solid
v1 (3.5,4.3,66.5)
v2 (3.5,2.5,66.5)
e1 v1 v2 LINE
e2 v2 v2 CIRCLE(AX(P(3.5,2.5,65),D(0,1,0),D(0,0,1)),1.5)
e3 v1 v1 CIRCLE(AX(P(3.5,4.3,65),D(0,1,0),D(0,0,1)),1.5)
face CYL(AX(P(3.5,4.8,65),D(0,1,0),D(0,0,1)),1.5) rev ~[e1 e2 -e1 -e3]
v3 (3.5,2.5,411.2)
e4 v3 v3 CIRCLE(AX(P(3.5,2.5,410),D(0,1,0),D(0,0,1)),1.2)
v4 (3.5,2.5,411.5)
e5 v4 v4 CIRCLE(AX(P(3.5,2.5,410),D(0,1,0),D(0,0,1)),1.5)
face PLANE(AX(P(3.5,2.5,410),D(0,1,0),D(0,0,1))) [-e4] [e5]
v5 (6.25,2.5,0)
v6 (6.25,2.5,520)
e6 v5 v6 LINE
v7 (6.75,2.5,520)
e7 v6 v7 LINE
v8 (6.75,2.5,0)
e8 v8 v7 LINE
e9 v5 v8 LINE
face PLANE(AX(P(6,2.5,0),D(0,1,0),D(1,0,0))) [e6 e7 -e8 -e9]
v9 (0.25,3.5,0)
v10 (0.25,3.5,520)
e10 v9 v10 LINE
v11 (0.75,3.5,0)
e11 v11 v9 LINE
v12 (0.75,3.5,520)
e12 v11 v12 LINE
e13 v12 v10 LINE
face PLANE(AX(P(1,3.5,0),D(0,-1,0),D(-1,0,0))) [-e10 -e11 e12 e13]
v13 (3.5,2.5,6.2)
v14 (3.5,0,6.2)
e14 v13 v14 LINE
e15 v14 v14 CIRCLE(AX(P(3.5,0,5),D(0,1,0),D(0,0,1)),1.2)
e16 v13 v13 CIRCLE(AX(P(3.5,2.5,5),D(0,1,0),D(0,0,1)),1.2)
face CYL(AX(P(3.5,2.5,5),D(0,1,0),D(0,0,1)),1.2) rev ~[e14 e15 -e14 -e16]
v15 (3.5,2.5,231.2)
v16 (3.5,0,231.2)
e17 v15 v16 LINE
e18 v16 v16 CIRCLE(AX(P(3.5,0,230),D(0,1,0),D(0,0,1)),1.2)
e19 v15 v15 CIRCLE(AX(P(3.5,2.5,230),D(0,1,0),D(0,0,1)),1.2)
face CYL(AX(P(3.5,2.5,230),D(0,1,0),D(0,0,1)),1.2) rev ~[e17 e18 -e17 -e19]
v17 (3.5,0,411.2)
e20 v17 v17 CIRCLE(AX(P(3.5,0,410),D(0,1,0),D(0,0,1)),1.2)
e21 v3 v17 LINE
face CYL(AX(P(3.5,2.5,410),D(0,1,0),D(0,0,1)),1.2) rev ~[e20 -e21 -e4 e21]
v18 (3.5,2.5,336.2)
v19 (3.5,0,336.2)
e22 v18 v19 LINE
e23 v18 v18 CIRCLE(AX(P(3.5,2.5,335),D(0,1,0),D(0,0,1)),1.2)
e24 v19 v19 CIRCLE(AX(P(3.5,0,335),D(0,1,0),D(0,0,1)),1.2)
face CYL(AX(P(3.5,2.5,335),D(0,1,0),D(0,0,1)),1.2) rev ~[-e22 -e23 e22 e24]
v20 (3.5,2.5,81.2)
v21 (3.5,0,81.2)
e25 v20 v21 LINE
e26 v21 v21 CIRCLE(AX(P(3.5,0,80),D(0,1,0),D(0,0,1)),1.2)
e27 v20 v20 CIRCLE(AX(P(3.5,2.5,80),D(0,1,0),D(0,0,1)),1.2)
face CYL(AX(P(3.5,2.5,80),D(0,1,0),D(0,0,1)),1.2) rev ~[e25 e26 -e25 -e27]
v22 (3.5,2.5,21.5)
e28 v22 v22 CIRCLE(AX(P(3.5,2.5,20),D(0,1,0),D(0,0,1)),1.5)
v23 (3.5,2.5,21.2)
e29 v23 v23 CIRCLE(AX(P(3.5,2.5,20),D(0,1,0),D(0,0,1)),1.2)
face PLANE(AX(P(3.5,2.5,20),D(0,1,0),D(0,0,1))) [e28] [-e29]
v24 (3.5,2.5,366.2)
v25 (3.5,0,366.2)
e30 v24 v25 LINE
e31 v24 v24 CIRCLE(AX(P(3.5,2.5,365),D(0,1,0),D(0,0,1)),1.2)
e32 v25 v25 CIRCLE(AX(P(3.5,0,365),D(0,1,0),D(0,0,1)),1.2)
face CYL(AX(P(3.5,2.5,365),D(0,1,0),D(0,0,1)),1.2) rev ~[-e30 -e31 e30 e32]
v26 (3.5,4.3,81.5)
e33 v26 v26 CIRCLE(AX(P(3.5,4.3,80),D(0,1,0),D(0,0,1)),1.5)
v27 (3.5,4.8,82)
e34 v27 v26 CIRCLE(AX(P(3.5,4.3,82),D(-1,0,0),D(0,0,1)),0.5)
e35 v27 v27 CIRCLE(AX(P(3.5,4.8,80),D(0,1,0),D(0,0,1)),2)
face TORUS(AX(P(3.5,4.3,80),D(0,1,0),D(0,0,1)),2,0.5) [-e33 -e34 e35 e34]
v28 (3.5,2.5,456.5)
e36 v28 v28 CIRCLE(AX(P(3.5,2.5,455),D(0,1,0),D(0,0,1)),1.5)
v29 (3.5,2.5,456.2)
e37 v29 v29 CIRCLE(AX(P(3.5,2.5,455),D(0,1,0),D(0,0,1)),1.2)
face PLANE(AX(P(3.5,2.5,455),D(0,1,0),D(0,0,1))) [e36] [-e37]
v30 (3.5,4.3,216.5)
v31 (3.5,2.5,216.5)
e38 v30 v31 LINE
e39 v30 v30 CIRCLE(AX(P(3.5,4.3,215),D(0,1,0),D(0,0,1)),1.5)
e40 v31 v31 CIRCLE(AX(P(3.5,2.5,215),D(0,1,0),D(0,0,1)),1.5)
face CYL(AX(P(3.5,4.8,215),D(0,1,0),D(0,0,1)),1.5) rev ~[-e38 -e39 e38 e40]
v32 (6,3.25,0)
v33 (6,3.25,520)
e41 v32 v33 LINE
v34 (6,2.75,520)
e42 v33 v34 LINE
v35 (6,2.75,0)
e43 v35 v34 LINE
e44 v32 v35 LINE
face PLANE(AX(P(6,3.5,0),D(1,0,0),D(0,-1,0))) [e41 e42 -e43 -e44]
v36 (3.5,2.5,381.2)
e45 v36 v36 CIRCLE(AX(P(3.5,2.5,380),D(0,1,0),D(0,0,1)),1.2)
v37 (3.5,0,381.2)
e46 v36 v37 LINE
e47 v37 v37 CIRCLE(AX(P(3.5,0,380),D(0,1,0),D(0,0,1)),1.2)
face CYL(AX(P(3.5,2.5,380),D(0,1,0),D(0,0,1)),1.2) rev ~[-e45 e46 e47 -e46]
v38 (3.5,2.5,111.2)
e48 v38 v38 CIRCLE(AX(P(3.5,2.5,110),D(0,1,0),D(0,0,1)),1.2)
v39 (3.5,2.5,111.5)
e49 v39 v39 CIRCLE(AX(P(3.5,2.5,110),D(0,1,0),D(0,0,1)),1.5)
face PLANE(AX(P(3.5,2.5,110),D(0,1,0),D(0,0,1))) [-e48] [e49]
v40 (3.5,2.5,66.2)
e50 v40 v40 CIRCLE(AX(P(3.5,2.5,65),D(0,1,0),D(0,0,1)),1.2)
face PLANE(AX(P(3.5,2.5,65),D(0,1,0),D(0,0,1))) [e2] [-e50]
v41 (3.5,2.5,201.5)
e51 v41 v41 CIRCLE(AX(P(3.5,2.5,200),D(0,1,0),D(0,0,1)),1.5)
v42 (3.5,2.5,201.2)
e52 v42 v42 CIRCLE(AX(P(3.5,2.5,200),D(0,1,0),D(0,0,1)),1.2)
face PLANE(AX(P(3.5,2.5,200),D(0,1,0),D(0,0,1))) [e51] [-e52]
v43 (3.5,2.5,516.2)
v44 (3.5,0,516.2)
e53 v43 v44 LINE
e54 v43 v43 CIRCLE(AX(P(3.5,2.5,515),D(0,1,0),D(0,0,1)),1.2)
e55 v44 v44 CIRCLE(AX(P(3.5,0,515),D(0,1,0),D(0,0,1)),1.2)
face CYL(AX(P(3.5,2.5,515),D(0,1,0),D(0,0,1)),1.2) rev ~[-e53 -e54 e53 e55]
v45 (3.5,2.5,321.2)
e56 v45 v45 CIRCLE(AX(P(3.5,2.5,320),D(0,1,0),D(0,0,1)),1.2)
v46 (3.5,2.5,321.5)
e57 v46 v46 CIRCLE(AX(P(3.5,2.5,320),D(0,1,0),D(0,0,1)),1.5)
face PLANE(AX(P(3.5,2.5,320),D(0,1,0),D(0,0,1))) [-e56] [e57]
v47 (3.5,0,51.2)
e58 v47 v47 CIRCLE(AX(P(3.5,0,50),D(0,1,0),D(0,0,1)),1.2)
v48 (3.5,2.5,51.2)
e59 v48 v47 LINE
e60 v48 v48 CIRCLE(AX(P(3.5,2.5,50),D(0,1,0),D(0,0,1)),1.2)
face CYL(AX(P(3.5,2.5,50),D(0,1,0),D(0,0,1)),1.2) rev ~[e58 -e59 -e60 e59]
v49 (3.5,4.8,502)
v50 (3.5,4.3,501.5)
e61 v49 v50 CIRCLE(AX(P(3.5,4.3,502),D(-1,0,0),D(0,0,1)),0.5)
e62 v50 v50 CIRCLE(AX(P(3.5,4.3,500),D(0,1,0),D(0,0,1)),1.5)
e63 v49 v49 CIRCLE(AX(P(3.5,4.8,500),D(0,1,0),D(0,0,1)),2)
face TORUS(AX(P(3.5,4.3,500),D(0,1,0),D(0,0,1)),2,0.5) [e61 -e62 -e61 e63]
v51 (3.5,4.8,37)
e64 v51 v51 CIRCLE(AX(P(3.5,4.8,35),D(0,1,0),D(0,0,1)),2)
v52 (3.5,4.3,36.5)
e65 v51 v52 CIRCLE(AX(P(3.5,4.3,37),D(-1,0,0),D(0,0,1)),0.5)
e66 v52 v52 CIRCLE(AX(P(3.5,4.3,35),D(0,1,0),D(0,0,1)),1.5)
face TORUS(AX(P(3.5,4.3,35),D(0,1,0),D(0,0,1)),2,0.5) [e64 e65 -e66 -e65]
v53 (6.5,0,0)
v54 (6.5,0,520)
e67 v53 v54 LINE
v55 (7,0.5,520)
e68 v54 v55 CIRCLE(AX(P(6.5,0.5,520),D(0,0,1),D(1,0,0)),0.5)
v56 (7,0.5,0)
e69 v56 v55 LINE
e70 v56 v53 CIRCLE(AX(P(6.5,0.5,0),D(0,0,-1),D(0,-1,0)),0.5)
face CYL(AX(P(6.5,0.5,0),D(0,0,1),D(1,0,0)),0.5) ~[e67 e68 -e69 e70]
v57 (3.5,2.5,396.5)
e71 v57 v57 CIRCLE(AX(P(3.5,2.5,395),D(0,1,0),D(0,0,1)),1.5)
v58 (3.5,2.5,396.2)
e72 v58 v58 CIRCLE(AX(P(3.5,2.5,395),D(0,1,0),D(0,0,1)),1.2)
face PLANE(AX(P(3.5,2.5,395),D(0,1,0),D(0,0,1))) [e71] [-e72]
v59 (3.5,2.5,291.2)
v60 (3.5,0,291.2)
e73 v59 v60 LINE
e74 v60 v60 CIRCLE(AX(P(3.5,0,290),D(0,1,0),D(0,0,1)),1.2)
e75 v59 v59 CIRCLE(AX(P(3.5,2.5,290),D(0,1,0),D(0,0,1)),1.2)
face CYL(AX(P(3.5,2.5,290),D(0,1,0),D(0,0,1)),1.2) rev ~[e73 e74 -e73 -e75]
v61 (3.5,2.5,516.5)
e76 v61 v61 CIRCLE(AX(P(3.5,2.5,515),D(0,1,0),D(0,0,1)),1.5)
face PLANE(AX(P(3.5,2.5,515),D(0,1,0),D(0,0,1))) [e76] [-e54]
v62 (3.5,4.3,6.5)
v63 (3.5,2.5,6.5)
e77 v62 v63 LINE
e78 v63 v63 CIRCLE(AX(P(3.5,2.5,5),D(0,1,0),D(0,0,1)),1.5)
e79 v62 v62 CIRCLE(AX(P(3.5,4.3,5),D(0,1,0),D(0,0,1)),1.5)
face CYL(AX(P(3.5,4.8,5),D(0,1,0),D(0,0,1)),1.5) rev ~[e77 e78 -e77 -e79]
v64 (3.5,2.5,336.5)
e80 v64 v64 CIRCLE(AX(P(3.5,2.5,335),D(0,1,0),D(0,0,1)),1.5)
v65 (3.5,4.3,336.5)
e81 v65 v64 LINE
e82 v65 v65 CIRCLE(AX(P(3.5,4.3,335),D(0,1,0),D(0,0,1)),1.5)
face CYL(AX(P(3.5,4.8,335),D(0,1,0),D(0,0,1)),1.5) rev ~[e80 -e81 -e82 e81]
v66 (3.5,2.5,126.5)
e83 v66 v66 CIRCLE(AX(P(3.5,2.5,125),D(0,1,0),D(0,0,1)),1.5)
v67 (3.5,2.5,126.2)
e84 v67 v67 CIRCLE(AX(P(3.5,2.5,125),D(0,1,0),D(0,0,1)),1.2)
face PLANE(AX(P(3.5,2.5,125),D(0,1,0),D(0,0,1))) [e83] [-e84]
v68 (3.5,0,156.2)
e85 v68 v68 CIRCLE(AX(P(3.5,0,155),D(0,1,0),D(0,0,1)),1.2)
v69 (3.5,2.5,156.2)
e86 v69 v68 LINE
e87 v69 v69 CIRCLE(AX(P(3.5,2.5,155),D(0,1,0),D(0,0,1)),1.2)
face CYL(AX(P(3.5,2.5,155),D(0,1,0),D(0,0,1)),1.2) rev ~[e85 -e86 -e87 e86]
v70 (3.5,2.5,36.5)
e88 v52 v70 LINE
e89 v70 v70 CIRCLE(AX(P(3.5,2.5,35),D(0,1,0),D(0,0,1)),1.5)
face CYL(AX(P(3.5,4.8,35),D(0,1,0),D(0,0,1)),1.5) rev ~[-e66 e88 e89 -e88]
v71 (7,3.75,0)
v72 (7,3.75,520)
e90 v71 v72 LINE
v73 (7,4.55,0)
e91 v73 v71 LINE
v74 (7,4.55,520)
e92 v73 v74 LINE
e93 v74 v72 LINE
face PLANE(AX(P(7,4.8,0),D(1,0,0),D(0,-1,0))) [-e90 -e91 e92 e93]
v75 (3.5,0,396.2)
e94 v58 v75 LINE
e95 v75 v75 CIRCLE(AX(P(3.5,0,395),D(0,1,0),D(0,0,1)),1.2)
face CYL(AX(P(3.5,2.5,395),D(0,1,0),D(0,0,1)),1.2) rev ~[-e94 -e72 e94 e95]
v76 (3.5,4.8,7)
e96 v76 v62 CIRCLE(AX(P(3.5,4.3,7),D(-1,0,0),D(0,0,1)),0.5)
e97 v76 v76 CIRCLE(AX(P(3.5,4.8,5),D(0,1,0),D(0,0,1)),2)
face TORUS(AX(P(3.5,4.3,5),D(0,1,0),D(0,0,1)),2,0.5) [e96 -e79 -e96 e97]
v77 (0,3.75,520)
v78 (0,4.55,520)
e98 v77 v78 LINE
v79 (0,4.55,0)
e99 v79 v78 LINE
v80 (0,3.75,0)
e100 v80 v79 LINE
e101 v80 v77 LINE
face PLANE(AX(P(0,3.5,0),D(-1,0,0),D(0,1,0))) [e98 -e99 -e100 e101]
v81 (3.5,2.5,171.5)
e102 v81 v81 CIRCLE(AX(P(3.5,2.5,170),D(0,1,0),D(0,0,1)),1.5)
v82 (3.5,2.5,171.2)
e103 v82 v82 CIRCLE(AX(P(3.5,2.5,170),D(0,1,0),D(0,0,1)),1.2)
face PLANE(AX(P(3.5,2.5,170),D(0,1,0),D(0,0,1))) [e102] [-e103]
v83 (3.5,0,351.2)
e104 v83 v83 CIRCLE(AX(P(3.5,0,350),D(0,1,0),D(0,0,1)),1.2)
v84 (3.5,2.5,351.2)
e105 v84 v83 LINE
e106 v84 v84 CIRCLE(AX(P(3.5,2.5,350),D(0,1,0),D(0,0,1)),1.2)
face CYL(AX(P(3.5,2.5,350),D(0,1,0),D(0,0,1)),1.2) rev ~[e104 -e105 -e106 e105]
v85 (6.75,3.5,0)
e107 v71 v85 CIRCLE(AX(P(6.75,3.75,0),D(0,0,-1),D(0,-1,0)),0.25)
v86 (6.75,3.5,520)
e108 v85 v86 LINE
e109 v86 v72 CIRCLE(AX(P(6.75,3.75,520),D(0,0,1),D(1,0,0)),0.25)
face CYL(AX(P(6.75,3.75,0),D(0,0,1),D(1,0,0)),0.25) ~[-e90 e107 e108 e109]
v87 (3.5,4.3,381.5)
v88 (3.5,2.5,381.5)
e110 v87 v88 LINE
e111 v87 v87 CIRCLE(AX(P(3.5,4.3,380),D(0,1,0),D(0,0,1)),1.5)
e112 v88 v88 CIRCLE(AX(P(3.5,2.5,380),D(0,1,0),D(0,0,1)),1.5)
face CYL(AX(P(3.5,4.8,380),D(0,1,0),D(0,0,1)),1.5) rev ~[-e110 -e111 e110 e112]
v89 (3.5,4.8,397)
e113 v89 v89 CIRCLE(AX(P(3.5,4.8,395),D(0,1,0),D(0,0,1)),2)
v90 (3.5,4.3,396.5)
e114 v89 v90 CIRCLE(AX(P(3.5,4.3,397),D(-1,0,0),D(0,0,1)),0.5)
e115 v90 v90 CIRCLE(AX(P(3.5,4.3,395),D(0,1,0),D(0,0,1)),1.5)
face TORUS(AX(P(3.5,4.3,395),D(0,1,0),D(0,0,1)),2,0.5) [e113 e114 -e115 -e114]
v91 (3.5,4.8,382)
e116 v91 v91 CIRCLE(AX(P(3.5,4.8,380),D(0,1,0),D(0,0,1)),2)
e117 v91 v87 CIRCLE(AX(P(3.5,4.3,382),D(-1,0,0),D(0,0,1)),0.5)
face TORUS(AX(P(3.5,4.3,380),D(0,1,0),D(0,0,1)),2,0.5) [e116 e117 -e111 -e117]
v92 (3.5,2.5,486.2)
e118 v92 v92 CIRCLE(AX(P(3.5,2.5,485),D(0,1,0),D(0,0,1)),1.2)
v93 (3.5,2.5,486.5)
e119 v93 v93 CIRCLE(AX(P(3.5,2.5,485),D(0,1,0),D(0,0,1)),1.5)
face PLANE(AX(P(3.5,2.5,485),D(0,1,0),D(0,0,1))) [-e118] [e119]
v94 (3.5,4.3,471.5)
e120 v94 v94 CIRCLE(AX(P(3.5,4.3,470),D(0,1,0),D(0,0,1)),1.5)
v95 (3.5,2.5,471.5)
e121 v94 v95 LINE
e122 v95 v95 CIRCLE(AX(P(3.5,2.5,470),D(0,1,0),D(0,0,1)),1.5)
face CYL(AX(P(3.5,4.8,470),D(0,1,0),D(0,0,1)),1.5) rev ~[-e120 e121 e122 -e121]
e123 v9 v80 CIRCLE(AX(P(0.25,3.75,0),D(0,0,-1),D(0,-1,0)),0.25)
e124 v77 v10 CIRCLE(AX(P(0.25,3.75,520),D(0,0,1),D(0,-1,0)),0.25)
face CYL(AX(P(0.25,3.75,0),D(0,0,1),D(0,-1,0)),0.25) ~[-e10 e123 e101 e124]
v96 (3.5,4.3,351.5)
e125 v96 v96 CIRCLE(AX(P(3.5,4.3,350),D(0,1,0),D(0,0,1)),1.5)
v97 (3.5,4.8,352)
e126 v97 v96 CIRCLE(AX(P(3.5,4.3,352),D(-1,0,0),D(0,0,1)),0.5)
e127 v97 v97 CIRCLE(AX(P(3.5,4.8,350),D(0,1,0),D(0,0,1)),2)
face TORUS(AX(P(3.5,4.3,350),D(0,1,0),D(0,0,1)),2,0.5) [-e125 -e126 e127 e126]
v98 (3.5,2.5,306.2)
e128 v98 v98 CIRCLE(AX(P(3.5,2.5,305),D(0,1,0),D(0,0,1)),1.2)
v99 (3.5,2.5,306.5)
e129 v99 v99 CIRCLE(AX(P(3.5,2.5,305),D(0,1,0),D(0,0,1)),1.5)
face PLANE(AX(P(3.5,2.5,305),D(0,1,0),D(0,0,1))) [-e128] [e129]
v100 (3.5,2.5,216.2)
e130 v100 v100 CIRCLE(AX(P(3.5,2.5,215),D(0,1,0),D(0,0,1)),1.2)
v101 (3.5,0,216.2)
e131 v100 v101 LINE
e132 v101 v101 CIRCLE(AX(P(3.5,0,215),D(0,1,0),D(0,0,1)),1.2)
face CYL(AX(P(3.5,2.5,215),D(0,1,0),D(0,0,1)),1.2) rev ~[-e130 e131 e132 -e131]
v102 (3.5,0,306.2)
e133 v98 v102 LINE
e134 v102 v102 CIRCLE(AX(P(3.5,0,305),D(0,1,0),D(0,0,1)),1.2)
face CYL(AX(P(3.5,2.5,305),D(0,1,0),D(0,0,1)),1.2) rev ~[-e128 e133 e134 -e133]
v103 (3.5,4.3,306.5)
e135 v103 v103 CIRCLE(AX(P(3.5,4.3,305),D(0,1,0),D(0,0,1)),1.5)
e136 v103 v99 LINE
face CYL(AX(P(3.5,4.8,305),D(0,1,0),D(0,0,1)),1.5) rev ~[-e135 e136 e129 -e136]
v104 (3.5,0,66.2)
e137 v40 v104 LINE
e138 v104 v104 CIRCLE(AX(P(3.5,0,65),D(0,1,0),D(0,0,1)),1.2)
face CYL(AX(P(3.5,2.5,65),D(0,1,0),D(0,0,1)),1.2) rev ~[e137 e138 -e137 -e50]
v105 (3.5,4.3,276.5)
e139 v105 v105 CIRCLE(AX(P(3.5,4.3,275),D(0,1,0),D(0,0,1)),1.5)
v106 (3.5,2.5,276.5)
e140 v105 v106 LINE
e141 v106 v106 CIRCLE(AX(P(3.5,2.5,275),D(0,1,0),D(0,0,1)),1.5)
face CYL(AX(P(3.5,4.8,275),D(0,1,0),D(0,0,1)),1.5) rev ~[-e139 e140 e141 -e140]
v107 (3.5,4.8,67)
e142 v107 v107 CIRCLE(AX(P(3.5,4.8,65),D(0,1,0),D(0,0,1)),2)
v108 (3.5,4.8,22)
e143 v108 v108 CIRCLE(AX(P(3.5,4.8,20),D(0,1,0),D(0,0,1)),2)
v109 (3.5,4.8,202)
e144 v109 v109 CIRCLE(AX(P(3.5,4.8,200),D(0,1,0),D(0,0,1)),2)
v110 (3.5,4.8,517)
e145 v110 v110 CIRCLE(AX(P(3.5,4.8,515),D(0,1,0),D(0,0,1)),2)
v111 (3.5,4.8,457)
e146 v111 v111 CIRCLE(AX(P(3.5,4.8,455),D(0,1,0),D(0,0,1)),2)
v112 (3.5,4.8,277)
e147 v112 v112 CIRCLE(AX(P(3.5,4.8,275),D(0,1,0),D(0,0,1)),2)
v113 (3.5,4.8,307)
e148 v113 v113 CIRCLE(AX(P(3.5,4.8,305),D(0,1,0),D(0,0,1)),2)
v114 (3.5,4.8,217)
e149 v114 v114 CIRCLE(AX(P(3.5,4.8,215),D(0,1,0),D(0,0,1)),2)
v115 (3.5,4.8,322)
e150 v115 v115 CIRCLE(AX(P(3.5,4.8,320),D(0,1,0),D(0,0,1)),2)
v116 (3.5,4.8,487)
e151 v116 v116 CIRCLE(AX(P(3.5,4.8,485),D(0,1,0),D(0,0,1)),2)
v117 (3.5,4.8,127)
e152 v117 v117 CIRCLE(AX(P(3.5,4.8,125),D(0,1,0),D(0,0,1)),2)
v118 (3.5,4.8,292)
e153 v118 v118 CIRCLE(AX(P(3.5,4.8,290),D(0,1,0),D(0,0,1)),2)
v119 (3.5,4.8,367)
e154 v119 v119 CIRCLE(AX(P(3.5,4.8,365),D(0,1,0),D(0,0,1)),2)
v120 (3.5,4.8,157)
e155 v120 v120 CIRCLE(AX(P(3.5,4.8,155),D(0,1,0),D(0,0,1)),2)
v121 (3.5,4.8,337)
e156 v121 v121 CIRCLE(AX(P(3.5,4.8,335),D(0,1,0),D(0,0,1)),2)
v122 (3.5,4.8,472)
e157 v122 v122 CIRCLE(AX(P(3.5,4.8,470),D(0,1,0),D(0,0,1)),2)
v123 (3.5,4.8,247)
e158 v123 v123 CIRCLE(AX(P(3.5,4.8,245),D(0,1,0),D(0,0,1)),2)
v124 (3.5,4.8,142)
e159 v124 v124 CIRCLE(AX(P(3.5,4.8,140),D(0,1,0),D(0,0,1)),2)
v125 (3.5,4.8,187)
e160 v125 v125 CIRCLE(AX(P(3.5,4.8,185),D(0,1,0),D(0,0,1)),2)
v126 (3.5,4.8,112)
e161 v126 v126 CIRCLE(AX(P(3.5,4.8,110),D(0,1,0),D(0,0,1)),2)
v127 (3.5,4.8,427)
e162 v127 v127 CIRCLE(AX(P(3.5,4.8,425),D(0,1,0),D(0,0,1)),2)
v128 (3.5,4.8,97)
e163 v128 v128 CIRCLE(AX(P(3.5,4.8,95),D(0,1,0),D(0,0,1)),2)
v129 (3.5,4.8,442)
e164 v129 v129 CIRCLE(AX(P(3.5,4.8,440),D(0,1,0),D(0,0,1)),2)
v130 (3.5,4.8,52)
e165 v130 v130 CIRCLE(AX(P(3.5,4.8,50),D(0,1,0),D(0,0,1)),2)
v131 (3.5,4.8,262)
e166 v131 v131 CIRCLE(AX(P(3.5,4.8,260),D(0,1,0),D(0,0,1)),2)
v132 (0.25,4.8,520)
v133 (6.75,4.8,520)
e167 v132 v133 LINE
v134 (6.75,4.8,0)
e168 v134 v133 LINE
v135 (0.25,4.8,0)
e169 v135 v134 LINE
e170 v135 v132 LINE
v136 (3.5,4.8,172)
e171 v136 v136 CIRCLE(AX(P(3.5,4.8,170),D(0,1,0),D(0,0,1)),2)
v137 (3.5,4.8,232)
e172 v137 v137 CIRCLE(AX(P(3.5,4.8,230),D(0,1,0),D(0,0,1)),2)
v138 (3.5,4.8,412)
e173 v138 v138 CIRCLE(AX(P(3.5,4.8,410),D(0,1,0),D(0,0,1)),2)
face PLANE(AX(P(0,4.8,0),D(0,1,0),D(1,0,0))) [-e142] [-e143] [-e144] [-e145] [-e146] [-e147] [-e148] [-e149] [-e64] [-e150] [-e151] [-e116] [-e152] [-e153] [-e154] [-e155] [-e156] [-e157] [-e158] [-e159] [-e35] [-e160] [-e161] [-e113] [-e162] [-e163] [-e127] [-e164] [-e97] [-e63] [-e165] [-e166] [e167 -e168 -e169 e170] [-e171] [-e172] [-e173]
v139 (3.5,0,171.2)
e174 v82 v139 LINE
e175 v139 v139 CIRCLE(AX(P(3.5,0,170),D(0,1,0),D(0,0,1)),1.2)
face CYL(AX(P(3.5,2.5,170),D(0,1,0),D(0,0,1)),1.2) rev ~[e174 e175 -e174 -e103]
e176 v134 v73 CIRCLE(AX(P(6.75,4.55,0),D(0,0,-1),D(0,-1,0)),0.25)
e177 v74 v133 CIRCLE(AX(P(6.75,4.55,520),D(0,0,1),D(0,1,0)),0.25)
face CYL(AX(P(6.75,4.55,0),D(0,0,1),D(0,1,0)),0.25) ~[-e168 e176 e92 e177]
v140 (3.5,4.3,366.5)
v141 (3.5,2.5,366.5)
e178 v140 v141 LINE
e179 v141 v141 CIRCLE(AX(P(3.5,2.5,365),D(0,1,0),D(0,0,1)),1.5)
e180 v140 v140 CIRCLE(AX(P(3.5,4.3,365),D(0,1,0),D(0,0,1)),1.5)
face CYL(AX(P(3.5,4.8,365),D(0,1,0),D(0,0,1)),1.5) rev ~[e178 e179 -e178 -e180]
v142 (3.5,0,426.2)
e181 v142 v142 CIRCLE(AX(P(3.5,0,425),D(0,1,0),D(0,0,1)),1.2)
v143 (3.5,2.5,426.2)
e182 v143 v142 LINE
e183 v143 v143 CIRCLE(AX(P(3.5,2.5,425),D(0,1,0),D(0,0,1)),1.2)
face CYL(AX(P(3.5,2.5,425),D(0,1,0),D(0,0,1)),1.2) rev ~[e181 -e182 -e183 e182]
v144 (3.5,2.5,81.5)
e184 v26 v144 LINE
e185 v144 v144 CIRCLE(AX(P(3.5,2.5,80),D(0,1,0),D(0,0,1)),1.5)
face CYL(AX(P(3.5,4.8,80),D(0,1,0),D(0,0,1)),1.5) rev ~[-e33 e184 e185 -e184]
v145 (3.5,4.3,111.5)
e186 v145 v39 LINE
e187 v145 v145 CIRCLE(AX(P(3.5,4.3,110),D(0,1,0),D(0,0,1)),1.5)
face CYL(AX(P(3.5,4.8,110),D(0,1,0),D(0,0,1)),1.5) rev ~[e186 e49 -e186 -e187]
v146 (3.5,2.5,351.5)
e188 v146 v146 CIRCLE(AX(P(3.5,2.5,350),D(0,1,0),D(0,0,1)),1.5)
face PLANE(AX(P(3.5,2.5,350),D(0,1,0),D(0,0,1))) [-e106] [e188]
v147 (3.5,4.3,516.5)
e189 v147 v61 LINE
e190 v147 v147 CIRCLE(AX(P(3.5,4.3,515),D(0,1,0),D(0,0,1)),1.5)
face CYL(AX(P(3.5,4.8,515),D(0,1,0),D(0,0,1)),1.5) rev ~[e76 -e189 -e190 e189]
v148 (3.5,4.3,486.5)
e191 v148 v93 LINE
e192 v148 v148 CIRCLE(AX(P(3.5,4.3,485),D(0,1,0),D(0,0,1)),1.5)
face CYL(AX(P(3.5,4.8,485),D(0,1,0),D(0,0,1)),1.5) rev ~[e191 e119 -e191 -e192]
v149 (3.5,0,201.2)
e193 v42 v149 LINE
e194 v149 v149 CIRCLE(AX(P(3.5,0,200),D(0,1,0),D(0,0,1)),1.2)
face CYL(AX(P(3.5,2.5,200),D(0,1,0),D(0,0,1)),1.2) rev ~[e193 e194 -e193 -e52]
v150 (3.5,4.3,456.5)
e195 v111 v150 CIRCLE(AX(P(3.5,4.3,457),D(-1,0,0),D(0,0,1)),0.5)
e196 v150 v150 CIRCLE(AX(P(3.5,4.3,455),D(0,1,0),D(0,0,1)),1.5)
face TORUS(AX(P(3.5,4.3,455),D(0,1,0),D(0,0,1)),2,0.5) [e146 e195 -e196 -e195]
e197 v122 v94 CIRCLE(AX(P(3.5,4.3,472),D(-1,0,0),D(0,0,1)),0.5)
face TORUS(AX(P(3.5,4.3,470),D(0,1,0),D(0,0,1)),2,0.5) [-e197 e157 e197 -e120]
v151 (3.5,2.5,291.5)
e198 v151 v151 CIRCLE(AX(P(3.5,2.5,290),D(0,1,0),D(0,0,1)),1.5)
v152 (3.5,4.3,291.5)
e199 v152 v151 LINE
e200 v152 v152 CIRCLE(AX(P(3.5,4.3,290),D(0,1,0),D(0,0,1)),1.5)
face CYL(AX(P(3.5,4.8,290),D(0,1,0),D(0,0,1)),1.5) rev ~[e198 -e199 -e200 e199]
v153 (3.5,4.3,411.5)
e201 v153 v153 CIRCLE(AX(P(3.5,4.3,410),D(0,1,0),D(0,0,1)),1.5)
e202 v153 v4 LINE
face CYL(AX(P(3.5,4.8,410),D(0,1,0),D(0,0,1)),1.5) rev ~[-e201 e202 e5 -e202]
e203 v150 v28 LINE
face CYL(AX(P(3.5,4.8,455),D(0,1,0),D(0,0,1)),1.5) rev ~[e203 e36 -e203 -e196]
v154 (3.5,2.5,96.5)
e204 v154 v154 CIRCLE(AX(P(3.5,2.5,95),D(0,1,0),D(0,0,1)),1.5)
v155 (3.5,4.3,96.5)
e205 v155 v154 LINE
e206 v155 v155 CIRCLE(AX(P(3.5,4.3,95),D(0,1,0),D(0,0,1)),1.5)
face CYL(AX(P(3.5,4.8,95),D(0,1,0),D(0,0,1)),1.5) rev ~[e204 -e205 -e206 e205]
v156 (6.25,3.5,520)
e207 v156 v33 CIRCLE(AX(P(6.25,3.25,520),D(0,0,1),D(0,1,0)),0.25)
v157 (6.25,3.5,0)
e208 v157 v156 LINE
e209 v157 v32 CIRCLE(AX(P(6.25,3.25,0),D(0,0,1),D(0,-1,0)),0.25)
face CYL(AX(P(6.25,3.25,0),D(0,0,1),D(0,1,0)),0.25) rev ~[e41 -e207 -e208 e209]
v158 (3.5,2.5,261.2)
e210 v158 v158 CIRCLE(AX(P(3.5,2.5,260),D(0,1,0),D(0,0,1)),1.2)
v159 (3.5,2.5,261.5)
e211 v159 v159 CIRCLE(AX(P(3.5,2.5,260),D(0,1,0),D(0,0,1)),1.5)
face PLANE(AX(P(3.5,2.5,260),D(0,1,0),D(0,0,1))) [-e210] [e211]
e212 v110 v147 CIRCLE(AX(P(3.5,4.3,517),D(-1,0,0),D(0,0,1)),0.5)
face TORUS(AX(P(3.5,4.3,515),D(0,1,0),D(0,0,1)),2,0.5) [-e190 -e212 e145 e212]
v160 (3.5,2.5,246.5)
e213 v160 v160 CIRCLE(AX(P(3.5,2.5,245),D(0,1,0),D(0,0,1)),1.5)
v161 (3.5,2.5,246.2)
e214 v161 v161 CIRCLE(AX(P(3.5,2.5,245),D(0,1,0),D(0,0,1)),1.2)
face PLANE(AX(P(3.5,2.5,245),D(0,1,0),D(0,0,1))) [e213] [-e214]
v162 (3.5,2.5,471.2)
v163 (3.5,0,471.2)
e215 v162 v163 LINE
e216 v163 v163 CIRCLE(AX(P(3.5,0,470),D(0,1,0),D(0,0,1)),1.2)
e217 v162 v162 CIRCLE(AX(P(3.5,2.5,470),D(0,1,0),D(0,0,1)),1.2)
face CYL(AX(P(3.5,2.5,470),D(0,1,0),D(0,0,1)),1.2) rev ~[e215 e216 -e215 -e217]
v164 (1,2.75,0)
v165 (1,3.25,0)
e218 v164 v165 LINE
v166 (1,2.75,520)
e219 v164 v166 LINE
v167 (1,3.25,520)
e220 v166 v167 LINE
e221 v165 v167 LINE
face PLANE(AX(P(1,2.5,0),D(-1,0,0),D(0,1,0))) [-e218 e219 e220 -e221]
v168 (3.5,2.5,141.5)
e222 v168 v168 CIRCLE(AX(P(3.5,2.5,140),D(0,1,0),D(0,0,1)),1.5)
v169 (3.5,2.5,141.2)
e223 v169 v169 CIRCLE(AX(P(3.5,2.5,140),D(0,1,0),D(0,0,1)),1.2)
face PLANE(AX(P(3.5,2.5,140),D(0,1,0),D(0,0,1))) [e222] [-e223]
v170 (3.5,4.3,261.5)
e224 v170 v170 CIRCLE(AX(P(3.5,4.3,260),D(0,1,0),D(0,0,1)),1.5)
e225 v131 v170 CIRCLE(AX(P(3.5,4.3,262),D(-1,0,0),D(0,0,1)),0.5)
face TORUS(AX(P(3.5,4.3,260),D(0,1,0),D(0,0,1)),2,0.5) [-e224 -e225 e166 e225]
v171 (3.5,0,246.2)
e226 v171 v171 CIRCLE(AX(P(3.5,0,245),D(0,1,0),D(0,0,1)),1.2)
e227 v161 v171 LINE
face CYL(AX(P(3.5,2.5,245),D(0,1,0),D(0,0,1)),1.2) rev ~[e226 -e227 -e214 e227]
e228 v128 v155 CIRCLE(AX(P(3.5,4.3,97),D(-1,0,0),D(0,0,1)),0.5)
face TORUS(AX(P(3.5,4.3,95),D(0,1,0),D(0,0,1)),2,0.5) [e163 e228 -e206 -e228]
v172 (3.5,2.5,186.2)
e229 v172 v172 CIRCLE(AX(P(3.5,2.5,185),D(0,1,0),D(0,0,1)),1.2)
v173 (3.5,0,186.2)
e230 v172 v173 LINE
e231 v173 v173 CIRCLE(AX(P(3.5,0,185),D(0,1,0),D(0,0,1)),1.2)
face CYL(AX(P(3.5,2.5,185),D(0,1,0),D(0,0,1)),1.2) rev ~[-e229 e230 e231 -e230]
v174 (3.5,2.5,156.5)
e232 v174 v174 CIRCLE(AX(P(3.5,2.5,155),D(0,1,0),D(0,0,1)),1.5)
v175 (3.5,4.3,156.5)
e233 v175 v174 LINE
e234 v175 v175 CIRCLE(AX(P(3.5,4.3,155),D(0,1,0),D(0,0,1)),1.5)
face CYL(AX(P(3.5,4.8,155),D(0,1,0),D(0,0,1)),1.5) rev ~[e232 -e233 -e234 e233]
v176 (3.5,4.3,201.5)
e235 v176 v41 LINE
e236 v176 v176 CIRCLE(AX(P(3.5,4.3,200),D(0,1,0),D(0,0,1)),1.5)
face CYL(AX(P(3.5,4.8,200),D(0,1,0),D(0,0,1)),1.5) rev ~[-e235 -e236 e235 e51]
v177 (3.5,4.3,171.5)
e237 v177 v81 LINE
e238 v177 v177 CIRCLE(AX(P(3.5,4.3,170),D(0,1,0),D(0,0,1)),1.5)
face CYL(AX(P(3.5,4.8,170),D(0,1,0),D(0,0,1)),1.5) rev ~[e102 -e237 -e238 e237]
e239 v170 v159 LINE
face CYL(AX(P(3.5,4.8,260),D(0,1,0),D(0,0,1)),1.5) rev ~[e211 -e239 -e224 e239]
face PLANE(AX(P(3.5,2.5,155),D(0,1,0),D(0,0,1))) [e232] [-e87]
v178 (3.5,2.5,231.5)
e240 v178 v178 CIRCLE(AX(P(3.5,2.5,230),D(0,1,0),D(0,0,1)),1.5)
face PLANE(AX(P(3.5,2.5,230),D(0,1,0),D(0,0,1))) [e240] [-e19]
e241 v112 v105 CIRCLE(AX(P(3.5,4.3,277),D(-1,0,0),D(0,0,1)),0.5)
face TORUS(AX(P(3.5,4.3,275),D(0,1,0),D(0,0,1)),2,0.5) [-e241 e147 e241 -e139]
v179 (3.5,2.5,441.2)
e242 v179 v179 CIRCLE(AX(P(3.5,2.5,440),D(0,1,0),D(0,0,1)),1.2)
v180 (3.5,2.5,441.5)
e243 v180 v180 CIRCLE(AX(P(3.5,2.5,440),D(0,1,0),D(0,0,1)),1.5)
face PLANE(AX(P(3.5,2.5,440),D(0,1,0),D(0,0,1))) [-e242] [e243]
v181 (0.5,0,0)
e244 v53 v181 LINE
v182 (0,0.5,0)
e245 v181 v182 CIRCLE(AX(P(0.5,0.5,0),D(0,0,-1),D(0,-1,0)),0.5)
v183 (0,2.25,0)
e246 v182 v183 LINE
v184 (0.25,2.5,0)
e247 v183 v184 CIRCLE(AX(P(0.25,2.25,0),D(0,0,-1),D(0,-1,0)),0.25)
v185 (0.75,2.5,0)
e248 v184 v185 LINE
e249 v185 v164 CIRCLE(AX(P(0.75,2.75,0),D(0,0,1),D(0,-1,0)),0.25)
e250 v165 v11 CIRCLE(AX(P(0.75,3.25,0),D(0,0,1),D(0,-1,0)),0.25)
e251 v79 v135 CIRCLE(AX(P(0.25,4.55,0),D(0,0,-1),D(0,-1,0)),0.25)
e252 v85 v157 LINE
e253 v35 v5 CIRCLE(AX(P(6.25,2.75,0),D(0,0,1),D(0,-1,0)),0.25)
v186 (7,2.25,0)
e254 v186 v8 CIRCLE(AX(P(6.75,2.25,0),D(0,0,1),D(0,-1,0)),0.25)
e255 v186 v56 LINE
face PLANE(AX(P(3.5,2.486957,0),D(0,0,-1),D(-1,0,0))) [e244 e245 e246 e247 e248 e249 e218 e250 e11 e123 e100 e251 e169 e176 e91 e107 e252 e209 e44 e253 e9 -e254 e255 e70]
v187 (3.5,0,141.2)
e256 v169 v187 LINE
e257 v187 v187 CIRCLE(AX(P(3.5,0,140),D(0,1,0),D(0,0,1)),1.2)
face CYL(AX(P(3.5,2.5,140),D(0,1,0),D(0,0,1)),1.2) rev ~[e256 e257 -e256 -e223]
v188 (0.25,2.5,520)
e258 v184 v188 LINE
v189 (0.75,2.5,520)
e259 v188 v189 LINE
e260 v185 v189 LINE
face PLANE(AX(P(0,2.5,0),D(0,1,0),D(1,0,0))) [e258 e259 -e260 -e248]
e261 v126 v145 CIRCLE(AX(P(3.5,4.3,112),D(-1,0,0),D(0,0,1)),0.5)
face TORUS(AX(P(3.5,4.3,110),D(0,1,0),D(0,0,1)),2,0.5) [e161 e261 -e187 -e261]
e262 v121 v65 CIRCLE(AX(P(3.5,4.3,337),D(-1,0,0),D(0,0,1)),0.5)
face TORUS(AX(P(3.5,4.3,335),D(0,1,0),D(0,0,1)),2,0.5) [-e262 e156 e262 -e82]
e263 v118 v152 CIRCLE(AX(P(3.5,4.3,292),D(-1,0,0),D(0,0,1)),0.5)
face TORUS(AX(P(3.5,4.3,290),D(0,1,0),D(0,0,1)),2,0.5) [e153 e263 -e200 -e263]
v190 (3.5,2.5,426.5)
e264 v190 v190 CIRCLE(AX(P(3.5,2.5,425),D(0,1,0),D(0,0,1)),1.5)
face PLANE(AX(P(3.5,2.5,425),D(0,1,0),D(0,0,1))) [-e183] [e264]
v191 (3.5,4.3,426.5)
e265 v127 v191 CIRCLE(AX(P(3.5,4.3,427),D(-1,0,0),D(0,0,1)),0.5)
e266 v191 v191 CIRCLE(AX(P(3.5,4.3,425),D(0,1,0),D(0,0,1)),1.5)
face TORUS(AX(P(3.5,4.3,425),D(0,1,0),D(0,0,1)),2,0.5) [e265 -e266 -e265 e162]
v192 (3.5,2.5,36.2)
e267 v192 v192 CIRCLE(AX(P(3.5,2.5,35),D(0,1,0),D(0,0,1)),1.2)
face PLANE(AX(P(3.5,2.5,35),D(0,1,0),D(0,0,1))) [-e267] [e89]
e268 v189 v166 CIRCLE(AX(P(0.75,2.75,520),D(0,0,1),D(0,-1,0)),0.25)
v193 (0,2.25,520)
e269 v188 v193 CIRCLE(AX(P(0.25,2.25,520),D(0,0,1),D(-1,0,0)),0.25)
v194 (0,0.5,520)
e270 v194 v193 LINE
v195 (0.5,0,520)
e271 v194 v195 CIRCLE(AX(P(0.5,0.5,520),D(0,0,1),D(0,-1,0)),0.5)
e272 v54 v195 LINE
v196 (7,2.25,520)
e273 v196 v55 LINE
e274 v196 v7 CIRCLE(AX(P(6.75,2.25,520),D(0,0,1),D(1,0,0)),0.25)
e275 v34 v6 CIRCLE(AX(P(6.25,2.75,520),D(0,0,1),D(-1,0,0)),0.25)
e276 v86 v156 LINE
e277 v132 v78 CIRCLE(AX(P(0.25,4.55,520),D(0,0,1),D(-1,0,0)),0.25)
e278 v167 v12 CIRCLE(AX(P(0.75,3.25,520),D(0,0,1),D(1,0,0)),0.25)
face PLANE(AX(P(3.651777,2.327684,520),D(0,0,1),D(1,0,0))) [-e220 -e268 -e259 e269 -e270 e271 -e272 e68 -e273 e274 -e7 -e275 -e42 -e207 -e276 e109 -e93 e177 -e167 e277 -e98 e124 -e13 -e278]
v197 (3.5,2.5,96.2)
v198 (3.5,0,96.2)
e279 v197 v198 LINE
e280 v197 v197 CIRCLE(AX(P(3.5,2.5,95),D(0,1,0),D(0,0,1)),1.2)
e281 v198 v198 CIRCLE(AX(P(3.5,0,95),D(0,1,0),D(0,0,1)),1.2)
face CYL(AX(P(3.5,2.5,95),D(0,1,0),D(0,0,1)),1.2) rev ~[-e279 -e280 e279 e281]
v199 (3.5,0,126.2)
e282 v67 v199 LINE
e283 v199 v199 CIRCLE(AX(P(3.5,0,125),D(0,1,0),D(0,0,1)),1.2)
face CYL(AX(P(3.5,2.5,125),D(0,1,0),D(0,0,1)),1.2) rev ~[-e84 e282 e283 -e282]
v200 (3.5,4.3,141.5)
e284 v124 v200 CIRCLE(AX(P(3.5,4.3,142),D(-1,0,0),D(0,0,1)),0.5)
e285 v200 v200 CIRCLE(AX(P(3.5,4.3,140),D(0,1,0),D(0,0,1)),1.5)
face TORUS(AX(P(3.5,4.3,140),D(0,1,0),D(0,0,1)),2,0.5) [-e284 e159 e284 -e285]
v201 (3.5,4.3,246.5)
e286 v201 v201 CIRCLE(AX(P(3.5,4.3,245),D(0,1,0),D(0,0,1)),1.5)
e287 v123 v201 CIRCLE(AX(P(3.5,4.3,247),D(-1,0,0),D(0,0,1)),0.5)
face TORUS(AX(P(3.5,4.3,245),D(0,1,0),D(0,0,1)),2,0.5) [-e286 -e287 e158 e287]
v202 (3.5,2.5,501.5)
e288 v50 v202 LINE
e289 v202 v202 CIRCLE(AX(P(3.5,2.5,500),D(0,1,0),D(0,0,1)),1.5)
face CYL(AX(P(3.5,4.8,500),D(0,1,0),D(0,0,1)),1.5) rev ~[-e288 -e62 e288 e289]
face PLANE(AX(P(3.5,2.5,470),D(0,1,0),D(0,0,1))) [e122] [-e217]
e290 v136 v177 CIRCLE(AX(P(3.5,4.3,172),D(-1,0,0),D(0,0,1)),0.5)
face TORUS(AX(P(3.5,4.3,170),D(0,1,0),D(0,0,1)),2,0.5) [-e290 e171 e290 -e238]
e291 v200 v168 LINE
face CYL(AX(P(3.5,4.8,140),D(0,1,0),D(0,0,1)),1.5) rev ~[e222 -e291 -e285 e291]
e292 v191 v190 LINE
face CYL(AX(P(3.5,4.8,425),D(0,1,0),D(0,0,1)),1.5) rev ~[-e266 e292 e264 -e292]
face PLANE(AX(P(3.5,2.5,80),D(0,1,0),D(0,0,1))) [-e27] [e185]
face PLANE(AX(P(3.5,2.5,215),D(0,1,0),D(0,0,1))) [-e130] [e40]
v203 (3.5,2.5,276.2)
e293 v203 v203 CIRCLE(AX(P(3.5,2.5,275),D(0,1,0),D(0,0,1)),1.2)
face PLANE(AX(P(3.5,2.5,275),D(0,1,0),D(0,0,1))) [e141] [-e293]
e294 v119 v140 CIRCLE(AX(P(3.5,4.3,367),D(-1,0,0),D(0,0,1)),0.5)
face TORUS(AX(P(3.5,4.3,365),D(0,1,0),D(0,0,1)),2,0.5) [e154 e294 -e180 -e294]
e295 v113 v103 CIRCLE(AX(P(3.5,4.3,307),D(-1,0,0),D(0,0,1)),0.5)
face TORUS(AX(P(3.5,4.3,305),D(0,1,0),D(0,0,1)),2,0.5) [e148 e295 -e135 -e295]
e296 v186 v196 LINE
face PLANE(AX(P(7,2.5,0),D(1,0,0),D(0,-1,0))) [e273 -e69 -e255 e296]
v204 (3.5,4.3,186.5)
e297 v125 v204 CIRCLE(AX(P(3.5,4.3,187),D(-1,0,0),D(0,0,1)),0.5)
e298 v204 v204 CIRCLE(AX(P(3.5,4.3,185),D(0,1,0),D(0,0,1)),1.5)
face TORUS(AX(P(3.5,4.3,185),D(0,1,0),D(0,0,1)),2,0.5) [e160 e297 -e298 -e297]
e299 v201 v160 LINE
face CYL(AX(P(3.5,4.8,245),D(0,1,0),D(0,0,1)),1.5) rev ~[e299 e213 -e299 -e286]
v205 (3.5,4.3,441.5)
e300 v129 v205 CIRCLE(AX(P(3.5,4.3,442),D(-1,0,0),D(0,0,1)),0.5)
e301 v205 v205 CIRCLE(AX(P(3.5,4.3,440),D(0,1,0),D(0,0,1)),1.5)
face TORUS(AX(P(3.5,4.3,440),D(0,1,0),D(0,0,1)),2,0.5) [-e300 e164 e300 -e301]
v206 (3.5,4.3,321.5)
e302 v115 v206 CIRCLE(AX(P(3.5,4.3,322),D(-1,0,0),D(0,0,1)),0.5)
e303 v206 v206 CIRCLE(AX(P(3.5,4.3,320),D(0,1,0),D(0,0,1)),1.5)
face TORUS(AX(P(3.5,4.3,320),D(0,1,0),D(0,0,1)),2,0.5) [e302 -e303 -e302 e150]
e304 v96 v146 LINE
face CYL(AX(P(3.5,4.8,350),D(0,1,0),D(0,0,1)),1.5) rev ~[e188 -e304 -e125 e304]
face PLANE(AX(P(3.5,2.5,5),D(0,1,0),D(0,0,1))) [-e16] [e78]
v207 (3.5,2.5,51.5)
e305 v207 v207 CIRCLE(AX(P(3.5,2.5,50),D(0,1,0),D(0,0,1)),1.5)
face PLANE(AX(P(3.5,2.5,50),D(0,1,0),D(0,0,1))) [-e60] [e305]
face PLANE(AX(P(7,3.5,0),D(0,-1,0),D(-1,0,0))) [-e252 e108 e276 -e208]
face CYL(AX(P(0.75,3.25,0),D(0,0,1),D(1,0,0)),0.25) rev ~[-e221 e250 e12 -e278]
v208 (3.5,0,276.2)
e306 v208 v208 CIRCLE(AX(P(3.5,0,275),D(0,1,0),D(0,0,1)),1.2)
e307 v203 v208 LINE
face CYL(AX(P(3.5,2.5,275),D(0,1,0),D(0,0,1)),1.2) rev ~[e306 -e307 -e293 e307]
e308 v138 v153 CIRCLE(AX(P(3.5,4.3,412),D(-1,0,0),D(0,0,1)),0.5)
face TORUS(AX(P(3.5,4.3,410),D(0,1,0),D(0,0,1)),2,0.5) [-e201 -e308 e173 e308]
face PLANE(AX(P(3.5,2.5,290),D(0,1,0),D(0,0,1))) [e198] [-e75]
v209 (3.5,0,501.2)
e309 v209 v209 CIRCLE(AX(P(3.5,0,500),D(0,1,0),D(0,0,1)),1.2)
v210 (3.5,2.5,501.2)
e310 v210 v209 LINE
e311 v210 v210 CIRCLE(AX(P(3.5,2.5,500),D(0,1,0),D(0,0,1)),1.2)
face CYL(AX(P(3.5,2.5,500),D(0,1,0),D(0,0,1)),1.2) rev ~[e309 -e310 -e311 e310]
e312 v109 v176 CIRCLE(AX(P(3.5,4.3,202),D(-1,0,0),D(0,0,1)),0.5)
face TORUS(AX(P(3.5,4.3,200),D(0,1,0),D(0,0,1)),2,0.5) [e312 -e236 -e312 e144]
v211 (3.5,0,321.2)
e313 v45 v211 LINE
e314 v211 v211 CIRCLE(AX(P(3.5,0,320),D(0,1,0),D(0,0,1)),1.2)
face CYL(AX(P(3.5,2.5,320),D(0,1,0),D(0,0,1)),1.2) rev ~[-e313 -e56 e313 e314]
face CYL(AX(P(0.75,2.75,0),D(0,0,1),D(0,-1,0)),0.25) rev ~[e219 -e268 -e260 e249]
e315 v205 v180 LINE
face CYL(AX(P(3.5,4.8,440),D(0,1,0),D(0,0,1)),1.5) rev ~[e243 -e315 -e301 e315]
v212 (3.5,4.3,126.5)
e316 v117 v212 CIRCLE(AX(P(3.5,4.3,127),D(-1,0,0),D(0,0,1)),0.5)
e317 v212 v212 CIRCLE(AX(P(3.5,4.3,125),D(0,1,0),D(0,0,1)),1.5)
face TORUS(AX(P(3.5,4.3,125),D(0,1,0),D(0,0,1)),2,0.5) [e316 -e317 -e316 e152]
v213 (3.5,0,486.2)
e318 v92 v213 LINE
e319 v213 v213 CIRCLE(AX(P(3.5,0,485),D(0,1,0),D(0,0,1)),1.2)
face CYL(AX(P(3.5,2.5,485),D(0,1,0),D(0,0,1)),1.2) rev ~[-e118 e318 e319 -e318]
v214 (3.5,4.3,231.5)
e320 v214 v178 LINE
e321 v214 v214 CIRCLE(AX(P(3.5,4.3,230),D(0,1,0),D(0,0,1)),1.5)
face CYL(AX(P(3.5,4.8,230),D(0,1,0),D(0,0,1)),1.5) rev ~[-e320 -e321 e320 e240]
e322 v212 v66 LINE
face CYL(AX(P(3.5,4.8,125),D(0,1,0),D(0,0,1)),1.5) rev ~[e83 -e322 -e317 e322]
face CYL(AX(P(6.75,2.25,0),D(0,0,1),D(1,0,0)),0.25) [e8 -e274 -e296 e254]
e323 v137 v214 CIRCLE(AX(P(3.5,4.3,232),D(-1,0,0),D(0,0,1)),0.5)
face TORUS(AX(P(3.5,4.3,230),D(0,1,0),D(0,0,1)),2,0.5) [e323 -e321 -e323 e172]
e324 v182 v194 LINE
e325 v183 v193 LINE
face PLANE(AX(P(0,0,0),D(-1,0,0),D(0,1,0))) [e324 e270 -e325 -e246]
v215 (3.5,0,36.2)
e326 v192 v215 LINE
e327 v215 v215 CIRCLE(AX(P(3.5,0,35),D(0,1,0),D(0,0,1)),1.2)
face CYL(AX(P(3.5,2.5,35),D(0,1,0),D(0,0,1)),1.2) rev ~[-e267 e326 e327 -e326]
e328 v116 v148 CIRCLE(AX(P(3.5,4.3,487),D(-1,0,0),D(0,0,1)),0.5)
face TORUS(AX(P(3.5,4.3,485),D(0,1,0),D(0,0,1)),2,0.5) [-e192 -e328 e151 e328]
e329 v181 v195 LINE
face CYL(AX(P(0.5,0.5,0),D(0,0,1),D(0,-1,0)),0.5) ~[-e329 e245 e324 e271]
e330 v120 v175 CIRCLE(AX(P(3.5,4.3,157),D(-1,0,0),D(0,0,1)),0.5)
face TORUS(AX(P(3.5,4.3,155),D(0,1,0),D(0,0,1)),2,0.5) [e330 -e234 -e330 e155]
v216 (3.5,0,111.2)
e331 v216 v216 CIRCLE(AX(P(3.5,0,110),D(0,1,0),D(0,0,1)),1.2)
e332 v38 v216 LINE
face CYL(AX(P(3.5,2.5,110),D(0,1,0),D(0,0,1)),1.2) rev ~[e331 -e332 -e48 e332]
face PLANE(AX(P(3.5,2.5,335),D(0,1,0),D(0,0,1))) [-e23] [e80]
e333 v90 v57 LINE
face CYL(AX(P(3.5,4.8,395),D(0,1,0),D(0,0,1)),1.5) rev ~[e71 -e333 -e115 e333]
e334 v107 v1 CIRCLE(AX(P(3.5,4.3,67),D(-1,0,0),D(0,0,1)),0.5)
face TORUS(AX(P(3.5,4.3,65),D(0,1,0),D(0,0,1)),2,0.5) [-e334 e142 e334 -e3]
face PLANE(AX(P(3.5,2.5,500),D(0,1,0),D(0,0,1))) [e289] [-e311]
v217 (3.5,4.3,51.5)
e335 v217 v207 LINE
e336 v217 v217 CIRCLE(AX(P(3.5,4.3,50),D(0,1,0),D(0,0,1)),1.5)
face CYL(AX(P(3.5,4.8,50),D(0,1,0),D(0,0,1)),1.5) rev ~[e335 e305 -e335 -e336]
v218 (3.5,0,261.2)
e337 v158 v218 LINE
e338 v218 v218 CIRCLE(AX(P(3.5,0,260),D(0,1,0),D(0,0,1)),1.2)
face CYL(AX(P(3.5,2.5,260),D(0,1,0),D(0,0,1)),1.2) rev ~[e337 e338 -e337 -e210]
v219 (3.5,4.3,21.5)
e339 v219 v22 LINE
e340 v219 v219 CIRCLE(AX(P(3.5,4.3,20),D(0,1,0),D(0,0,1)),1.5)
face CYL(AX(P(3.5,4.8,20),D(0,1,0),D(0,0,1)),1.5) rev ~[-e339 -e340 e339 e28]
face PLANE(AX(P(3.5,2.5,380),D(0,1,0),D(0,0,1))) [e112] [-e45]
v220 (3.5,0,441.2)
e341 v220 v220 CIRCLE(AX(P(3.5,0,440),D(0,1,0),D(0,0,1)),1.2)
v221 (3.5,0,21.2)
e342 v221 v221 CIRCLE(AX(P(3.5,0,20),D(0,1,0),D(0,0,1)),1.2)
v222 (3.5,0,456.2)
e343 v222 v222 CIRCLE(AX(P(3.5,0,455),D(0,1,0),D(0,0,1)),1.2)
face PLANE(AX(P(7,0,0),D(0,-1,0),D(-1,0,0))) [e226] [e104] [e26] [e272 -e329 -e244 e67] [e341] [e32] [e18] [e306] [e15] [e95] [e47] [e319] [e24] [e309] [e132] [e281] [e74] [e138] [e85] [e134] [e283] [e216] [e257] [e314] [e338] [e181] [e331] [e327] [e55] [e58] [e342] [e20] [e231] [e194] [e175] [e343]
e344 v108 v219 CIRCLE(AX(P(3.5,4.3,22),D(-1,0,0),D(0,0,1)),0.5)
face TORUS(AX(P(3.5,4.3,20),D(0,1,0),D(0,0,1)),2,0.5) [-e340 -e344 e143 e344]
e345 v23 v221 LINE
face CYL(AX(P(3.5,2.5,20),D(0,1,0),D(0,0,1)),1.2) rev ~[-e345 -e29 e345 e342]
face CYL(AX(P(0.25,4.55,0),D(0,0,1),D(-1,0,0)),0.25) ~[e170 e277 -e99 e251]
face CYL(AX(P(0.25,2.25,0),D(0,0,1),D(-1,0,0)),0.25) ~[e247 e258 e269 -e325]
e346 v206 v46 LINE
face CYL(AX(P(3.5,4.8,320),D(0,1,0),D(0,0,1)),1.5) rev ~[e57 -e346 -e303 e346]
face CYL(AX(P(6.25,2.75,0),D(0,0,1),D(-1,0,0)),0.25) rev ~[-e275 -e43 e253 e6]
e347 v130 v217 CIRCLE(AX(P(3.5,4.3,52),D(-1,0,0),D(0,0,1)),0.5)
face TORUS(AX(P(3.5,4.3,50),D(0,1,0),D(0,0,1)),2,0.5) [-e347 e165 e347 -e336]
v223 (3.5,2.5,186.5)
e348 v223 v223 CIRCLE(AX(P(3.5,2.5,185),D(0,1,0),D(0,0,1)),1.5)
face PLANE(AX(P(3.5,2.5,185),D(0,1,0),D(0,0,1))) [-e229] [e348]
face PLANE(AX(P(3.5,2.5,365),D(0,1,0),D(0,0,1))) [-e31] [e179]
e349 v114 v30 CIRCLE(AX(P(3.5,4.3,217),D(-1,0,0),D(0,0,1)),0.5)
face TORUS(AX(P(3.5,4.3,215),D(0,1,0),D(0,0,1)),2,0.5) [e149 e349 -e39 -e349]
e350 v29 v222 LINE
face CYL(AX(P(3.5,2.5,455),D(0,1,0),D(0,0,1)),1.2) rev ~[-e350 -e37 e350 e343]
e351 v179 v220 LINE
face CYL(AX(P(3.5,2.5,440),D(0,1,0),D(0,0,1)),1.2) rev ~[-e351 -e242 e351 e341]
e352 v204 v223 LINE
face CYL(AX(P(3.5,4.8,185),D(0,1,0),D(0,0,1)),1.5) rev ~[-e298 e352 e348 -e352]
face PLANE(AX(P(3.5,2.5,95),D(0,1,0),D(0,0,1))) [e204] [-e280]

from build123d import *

# Parameters (mm, degrees)
EXTRUDE_1_DEPTH                = 550
FILLET_1_R                     = 0.25
FILLET_2_R                     = 0.5
SKETCH_2_R                     = 1.5
CUT_EXTRUDE_1_DEPTH            = 2.3
SKETCH_3_R                     = 1.2
CUT_EXTRUDE_2_DEPTH            = 551.05022498
FILLET_3_R                     = 0.5
PATTERN_LINEAR_2_COUNT         = 37
PATTERN_LINEAR_2_PITCH         = 15
FILLET_3_OF_PATTERN_LINEAR_2_R = 0.5
SKETCH_4_W                     = 7.607362056
SKETCH_4_H                     = 5.534224128
CUT_EXTRUDE_3_DEPTH            = 30


with BuildPart() as part:
    # 草图1 → 凸台-拉伸1 (new body)
    with BuildSketch(Plane.XY):
        Polygon((7, 2.5), (7, 0), (0, 0), (0, 2.5), (1, 2.5), (1, 3.5), (0, 3.5), (0, 4.8), (7, 4.8), (7, 3.5), (6, 3.5), (6, 2.5), align=None)
    extrude(amount=EXTRUDE_1_DEPTH)

    # 圆角1
    fillet_1_edges = [part.edges().sort_by_distance(p)[0] for p in [
        (0, 2.5, 275),
        (1, 2.5, 275),
        (1, 3.5, 275),
        (0, 3.5, 275),
        (0, 4.8, 275),
        (7, 4.8, 275),
        (7, 3.5, 275),
        (6, 3.5, 275),
        (6, 2.5, 275),
        (7, 2.5, 275),
    ]]
    fillet(fillet_1_edges, radius=FILLET_1_R)

    # 圆角2
    fillet_2_edges = [part.edges().sort_by_distance(p)[0] for p in [
        (7, 0, 275),
        (0, 0, 275),
    ]]
    fillet(fillet_2_edges, radius=FILLET_2_R)

    # 草图2 → 切除-拉伸1 (cut)
    with BuildSketch(Plane(origin=(0, 4.8, 0), x_dir=(1, 0, 0), z_dir=(0, 1, 0))):
        with Locations(Location((3.5, -5, 0), (0, 0, 270))):
            Circle(SKETCH_2_R)
    cut_extrude_1 = extrude(amount=-CUT_EXTRUDE_1_DEPTH, mode=Mode.SUBTRACT)

    # 草图3 → 切除-拉伸2 (cut, through all)
    with BuildSketch(Plane(origin=(0, 2.5, 0), x_dir=(1, 0, 0), z_dir=(0, 1, 0))):
        with Locations(Location((3.5, -5, 0), (0, 0, 270))):
            Circle(SKETCH_3_R)
    cut_extrude_2 = extrude(amount=-CUT_EXTRUDE_2_DEPTH, mode=Mode.SUBTRACT)

    # 圆角3
    fillet_3_edges = [part.edges().sort_by_distance(p)[0] for p in [
        (3.5, 4.8, 3.5),
    ]]
    fillet(fillet_3_edges, radius=FILLET_3_R)

    # 阵列(线性)2: 切除-拉伸1, 切除-拉伸2 ×37
    with Locations(*[(0, 0, i * PATTERN_LINEAR_2_PITCH) for i in range(1, PATTERN_LINEAR_2_COUNT)]):
        add(cut_extrude_1, mode=Mode.SUBTRACT)
        add(cut_extrude_2, mode=Mode.SUBTRACT)

    # 圆角3 of 阵列(线性)2
    fillet_3_of_pattern_linear_2_edges = [part.edges().sort_by_distance(p)[0] for p in [
        (3.5, 4.8, 18.5),
        (3.5, 4.8, 33.5),
        (3.5, 4.8, 48.5),
        (3.5, 4.8, 63.5),
        (3.5, 4.8, 78.5),
        (3.5, 4.8, 93.5),
        (3.5, 4.8, 108.5),
        (3.5, 4.8, 123.5),
        (3.5, 4.8, 138.5),
        (3.5, 4.8, 153.5),
        (3.5, 4.8, 168.5),
        (3.5, 4.8, 183.5),
        (3.5, 4.8, 198.5),
        (3.5, 4.8, 213.5),
        (3.5, 4.8, 228.5),
        (3.5, 4.8, 243.5),
        (3.5, 4.8, 258.5),
        (3.5, 4.8, 273.5),
        (3.5, 4.8, 288.5),
        (3.5, 4.8, 303.5),
        (3.5, 4.8, 318.5),
        (3.5, 4.8, 333.5),
        (3.5, 4.8, 348.5),
        (3.5, 4.8, 363.5),
        (3.5, 4.8, 378.5),
        (3.5, 4.8, 393.5),
        (3.5, 4.8, 408.5),
        (3.5, 4.8, 423.5),
        (3.5, 4.8, 438.5),
        (3.5, 4.8, 453.5),
        (3.5, 4.8, 468.5),
        (3.5, 4.8, 483.5),
        (3.5, 4.8, 498.5),
        (3.5, 4.8, 513.5),
        (3.5, 4.8, 528.5),
        (3.5, 4.8, 543.5),
    ]]
    fillet(fillet_3_of_pattern_linear_2_edges, radius=FILLET_3_OF_PATTERN_LINEAR_2_R)

    # 草图4 → 切除-拉伸3 (cut)
    with BuildSketch(Plane.XY.offset(550)):
        with Locations((3.651776821, 2.327683724)):
            Rectangle(SKETCH_4_W, SKETCH_4_H)
    extrude(amount=-CUT_EXTRUDE_3_DEPTH, mode=Mode.SUBTRACT)


solid = part.part
